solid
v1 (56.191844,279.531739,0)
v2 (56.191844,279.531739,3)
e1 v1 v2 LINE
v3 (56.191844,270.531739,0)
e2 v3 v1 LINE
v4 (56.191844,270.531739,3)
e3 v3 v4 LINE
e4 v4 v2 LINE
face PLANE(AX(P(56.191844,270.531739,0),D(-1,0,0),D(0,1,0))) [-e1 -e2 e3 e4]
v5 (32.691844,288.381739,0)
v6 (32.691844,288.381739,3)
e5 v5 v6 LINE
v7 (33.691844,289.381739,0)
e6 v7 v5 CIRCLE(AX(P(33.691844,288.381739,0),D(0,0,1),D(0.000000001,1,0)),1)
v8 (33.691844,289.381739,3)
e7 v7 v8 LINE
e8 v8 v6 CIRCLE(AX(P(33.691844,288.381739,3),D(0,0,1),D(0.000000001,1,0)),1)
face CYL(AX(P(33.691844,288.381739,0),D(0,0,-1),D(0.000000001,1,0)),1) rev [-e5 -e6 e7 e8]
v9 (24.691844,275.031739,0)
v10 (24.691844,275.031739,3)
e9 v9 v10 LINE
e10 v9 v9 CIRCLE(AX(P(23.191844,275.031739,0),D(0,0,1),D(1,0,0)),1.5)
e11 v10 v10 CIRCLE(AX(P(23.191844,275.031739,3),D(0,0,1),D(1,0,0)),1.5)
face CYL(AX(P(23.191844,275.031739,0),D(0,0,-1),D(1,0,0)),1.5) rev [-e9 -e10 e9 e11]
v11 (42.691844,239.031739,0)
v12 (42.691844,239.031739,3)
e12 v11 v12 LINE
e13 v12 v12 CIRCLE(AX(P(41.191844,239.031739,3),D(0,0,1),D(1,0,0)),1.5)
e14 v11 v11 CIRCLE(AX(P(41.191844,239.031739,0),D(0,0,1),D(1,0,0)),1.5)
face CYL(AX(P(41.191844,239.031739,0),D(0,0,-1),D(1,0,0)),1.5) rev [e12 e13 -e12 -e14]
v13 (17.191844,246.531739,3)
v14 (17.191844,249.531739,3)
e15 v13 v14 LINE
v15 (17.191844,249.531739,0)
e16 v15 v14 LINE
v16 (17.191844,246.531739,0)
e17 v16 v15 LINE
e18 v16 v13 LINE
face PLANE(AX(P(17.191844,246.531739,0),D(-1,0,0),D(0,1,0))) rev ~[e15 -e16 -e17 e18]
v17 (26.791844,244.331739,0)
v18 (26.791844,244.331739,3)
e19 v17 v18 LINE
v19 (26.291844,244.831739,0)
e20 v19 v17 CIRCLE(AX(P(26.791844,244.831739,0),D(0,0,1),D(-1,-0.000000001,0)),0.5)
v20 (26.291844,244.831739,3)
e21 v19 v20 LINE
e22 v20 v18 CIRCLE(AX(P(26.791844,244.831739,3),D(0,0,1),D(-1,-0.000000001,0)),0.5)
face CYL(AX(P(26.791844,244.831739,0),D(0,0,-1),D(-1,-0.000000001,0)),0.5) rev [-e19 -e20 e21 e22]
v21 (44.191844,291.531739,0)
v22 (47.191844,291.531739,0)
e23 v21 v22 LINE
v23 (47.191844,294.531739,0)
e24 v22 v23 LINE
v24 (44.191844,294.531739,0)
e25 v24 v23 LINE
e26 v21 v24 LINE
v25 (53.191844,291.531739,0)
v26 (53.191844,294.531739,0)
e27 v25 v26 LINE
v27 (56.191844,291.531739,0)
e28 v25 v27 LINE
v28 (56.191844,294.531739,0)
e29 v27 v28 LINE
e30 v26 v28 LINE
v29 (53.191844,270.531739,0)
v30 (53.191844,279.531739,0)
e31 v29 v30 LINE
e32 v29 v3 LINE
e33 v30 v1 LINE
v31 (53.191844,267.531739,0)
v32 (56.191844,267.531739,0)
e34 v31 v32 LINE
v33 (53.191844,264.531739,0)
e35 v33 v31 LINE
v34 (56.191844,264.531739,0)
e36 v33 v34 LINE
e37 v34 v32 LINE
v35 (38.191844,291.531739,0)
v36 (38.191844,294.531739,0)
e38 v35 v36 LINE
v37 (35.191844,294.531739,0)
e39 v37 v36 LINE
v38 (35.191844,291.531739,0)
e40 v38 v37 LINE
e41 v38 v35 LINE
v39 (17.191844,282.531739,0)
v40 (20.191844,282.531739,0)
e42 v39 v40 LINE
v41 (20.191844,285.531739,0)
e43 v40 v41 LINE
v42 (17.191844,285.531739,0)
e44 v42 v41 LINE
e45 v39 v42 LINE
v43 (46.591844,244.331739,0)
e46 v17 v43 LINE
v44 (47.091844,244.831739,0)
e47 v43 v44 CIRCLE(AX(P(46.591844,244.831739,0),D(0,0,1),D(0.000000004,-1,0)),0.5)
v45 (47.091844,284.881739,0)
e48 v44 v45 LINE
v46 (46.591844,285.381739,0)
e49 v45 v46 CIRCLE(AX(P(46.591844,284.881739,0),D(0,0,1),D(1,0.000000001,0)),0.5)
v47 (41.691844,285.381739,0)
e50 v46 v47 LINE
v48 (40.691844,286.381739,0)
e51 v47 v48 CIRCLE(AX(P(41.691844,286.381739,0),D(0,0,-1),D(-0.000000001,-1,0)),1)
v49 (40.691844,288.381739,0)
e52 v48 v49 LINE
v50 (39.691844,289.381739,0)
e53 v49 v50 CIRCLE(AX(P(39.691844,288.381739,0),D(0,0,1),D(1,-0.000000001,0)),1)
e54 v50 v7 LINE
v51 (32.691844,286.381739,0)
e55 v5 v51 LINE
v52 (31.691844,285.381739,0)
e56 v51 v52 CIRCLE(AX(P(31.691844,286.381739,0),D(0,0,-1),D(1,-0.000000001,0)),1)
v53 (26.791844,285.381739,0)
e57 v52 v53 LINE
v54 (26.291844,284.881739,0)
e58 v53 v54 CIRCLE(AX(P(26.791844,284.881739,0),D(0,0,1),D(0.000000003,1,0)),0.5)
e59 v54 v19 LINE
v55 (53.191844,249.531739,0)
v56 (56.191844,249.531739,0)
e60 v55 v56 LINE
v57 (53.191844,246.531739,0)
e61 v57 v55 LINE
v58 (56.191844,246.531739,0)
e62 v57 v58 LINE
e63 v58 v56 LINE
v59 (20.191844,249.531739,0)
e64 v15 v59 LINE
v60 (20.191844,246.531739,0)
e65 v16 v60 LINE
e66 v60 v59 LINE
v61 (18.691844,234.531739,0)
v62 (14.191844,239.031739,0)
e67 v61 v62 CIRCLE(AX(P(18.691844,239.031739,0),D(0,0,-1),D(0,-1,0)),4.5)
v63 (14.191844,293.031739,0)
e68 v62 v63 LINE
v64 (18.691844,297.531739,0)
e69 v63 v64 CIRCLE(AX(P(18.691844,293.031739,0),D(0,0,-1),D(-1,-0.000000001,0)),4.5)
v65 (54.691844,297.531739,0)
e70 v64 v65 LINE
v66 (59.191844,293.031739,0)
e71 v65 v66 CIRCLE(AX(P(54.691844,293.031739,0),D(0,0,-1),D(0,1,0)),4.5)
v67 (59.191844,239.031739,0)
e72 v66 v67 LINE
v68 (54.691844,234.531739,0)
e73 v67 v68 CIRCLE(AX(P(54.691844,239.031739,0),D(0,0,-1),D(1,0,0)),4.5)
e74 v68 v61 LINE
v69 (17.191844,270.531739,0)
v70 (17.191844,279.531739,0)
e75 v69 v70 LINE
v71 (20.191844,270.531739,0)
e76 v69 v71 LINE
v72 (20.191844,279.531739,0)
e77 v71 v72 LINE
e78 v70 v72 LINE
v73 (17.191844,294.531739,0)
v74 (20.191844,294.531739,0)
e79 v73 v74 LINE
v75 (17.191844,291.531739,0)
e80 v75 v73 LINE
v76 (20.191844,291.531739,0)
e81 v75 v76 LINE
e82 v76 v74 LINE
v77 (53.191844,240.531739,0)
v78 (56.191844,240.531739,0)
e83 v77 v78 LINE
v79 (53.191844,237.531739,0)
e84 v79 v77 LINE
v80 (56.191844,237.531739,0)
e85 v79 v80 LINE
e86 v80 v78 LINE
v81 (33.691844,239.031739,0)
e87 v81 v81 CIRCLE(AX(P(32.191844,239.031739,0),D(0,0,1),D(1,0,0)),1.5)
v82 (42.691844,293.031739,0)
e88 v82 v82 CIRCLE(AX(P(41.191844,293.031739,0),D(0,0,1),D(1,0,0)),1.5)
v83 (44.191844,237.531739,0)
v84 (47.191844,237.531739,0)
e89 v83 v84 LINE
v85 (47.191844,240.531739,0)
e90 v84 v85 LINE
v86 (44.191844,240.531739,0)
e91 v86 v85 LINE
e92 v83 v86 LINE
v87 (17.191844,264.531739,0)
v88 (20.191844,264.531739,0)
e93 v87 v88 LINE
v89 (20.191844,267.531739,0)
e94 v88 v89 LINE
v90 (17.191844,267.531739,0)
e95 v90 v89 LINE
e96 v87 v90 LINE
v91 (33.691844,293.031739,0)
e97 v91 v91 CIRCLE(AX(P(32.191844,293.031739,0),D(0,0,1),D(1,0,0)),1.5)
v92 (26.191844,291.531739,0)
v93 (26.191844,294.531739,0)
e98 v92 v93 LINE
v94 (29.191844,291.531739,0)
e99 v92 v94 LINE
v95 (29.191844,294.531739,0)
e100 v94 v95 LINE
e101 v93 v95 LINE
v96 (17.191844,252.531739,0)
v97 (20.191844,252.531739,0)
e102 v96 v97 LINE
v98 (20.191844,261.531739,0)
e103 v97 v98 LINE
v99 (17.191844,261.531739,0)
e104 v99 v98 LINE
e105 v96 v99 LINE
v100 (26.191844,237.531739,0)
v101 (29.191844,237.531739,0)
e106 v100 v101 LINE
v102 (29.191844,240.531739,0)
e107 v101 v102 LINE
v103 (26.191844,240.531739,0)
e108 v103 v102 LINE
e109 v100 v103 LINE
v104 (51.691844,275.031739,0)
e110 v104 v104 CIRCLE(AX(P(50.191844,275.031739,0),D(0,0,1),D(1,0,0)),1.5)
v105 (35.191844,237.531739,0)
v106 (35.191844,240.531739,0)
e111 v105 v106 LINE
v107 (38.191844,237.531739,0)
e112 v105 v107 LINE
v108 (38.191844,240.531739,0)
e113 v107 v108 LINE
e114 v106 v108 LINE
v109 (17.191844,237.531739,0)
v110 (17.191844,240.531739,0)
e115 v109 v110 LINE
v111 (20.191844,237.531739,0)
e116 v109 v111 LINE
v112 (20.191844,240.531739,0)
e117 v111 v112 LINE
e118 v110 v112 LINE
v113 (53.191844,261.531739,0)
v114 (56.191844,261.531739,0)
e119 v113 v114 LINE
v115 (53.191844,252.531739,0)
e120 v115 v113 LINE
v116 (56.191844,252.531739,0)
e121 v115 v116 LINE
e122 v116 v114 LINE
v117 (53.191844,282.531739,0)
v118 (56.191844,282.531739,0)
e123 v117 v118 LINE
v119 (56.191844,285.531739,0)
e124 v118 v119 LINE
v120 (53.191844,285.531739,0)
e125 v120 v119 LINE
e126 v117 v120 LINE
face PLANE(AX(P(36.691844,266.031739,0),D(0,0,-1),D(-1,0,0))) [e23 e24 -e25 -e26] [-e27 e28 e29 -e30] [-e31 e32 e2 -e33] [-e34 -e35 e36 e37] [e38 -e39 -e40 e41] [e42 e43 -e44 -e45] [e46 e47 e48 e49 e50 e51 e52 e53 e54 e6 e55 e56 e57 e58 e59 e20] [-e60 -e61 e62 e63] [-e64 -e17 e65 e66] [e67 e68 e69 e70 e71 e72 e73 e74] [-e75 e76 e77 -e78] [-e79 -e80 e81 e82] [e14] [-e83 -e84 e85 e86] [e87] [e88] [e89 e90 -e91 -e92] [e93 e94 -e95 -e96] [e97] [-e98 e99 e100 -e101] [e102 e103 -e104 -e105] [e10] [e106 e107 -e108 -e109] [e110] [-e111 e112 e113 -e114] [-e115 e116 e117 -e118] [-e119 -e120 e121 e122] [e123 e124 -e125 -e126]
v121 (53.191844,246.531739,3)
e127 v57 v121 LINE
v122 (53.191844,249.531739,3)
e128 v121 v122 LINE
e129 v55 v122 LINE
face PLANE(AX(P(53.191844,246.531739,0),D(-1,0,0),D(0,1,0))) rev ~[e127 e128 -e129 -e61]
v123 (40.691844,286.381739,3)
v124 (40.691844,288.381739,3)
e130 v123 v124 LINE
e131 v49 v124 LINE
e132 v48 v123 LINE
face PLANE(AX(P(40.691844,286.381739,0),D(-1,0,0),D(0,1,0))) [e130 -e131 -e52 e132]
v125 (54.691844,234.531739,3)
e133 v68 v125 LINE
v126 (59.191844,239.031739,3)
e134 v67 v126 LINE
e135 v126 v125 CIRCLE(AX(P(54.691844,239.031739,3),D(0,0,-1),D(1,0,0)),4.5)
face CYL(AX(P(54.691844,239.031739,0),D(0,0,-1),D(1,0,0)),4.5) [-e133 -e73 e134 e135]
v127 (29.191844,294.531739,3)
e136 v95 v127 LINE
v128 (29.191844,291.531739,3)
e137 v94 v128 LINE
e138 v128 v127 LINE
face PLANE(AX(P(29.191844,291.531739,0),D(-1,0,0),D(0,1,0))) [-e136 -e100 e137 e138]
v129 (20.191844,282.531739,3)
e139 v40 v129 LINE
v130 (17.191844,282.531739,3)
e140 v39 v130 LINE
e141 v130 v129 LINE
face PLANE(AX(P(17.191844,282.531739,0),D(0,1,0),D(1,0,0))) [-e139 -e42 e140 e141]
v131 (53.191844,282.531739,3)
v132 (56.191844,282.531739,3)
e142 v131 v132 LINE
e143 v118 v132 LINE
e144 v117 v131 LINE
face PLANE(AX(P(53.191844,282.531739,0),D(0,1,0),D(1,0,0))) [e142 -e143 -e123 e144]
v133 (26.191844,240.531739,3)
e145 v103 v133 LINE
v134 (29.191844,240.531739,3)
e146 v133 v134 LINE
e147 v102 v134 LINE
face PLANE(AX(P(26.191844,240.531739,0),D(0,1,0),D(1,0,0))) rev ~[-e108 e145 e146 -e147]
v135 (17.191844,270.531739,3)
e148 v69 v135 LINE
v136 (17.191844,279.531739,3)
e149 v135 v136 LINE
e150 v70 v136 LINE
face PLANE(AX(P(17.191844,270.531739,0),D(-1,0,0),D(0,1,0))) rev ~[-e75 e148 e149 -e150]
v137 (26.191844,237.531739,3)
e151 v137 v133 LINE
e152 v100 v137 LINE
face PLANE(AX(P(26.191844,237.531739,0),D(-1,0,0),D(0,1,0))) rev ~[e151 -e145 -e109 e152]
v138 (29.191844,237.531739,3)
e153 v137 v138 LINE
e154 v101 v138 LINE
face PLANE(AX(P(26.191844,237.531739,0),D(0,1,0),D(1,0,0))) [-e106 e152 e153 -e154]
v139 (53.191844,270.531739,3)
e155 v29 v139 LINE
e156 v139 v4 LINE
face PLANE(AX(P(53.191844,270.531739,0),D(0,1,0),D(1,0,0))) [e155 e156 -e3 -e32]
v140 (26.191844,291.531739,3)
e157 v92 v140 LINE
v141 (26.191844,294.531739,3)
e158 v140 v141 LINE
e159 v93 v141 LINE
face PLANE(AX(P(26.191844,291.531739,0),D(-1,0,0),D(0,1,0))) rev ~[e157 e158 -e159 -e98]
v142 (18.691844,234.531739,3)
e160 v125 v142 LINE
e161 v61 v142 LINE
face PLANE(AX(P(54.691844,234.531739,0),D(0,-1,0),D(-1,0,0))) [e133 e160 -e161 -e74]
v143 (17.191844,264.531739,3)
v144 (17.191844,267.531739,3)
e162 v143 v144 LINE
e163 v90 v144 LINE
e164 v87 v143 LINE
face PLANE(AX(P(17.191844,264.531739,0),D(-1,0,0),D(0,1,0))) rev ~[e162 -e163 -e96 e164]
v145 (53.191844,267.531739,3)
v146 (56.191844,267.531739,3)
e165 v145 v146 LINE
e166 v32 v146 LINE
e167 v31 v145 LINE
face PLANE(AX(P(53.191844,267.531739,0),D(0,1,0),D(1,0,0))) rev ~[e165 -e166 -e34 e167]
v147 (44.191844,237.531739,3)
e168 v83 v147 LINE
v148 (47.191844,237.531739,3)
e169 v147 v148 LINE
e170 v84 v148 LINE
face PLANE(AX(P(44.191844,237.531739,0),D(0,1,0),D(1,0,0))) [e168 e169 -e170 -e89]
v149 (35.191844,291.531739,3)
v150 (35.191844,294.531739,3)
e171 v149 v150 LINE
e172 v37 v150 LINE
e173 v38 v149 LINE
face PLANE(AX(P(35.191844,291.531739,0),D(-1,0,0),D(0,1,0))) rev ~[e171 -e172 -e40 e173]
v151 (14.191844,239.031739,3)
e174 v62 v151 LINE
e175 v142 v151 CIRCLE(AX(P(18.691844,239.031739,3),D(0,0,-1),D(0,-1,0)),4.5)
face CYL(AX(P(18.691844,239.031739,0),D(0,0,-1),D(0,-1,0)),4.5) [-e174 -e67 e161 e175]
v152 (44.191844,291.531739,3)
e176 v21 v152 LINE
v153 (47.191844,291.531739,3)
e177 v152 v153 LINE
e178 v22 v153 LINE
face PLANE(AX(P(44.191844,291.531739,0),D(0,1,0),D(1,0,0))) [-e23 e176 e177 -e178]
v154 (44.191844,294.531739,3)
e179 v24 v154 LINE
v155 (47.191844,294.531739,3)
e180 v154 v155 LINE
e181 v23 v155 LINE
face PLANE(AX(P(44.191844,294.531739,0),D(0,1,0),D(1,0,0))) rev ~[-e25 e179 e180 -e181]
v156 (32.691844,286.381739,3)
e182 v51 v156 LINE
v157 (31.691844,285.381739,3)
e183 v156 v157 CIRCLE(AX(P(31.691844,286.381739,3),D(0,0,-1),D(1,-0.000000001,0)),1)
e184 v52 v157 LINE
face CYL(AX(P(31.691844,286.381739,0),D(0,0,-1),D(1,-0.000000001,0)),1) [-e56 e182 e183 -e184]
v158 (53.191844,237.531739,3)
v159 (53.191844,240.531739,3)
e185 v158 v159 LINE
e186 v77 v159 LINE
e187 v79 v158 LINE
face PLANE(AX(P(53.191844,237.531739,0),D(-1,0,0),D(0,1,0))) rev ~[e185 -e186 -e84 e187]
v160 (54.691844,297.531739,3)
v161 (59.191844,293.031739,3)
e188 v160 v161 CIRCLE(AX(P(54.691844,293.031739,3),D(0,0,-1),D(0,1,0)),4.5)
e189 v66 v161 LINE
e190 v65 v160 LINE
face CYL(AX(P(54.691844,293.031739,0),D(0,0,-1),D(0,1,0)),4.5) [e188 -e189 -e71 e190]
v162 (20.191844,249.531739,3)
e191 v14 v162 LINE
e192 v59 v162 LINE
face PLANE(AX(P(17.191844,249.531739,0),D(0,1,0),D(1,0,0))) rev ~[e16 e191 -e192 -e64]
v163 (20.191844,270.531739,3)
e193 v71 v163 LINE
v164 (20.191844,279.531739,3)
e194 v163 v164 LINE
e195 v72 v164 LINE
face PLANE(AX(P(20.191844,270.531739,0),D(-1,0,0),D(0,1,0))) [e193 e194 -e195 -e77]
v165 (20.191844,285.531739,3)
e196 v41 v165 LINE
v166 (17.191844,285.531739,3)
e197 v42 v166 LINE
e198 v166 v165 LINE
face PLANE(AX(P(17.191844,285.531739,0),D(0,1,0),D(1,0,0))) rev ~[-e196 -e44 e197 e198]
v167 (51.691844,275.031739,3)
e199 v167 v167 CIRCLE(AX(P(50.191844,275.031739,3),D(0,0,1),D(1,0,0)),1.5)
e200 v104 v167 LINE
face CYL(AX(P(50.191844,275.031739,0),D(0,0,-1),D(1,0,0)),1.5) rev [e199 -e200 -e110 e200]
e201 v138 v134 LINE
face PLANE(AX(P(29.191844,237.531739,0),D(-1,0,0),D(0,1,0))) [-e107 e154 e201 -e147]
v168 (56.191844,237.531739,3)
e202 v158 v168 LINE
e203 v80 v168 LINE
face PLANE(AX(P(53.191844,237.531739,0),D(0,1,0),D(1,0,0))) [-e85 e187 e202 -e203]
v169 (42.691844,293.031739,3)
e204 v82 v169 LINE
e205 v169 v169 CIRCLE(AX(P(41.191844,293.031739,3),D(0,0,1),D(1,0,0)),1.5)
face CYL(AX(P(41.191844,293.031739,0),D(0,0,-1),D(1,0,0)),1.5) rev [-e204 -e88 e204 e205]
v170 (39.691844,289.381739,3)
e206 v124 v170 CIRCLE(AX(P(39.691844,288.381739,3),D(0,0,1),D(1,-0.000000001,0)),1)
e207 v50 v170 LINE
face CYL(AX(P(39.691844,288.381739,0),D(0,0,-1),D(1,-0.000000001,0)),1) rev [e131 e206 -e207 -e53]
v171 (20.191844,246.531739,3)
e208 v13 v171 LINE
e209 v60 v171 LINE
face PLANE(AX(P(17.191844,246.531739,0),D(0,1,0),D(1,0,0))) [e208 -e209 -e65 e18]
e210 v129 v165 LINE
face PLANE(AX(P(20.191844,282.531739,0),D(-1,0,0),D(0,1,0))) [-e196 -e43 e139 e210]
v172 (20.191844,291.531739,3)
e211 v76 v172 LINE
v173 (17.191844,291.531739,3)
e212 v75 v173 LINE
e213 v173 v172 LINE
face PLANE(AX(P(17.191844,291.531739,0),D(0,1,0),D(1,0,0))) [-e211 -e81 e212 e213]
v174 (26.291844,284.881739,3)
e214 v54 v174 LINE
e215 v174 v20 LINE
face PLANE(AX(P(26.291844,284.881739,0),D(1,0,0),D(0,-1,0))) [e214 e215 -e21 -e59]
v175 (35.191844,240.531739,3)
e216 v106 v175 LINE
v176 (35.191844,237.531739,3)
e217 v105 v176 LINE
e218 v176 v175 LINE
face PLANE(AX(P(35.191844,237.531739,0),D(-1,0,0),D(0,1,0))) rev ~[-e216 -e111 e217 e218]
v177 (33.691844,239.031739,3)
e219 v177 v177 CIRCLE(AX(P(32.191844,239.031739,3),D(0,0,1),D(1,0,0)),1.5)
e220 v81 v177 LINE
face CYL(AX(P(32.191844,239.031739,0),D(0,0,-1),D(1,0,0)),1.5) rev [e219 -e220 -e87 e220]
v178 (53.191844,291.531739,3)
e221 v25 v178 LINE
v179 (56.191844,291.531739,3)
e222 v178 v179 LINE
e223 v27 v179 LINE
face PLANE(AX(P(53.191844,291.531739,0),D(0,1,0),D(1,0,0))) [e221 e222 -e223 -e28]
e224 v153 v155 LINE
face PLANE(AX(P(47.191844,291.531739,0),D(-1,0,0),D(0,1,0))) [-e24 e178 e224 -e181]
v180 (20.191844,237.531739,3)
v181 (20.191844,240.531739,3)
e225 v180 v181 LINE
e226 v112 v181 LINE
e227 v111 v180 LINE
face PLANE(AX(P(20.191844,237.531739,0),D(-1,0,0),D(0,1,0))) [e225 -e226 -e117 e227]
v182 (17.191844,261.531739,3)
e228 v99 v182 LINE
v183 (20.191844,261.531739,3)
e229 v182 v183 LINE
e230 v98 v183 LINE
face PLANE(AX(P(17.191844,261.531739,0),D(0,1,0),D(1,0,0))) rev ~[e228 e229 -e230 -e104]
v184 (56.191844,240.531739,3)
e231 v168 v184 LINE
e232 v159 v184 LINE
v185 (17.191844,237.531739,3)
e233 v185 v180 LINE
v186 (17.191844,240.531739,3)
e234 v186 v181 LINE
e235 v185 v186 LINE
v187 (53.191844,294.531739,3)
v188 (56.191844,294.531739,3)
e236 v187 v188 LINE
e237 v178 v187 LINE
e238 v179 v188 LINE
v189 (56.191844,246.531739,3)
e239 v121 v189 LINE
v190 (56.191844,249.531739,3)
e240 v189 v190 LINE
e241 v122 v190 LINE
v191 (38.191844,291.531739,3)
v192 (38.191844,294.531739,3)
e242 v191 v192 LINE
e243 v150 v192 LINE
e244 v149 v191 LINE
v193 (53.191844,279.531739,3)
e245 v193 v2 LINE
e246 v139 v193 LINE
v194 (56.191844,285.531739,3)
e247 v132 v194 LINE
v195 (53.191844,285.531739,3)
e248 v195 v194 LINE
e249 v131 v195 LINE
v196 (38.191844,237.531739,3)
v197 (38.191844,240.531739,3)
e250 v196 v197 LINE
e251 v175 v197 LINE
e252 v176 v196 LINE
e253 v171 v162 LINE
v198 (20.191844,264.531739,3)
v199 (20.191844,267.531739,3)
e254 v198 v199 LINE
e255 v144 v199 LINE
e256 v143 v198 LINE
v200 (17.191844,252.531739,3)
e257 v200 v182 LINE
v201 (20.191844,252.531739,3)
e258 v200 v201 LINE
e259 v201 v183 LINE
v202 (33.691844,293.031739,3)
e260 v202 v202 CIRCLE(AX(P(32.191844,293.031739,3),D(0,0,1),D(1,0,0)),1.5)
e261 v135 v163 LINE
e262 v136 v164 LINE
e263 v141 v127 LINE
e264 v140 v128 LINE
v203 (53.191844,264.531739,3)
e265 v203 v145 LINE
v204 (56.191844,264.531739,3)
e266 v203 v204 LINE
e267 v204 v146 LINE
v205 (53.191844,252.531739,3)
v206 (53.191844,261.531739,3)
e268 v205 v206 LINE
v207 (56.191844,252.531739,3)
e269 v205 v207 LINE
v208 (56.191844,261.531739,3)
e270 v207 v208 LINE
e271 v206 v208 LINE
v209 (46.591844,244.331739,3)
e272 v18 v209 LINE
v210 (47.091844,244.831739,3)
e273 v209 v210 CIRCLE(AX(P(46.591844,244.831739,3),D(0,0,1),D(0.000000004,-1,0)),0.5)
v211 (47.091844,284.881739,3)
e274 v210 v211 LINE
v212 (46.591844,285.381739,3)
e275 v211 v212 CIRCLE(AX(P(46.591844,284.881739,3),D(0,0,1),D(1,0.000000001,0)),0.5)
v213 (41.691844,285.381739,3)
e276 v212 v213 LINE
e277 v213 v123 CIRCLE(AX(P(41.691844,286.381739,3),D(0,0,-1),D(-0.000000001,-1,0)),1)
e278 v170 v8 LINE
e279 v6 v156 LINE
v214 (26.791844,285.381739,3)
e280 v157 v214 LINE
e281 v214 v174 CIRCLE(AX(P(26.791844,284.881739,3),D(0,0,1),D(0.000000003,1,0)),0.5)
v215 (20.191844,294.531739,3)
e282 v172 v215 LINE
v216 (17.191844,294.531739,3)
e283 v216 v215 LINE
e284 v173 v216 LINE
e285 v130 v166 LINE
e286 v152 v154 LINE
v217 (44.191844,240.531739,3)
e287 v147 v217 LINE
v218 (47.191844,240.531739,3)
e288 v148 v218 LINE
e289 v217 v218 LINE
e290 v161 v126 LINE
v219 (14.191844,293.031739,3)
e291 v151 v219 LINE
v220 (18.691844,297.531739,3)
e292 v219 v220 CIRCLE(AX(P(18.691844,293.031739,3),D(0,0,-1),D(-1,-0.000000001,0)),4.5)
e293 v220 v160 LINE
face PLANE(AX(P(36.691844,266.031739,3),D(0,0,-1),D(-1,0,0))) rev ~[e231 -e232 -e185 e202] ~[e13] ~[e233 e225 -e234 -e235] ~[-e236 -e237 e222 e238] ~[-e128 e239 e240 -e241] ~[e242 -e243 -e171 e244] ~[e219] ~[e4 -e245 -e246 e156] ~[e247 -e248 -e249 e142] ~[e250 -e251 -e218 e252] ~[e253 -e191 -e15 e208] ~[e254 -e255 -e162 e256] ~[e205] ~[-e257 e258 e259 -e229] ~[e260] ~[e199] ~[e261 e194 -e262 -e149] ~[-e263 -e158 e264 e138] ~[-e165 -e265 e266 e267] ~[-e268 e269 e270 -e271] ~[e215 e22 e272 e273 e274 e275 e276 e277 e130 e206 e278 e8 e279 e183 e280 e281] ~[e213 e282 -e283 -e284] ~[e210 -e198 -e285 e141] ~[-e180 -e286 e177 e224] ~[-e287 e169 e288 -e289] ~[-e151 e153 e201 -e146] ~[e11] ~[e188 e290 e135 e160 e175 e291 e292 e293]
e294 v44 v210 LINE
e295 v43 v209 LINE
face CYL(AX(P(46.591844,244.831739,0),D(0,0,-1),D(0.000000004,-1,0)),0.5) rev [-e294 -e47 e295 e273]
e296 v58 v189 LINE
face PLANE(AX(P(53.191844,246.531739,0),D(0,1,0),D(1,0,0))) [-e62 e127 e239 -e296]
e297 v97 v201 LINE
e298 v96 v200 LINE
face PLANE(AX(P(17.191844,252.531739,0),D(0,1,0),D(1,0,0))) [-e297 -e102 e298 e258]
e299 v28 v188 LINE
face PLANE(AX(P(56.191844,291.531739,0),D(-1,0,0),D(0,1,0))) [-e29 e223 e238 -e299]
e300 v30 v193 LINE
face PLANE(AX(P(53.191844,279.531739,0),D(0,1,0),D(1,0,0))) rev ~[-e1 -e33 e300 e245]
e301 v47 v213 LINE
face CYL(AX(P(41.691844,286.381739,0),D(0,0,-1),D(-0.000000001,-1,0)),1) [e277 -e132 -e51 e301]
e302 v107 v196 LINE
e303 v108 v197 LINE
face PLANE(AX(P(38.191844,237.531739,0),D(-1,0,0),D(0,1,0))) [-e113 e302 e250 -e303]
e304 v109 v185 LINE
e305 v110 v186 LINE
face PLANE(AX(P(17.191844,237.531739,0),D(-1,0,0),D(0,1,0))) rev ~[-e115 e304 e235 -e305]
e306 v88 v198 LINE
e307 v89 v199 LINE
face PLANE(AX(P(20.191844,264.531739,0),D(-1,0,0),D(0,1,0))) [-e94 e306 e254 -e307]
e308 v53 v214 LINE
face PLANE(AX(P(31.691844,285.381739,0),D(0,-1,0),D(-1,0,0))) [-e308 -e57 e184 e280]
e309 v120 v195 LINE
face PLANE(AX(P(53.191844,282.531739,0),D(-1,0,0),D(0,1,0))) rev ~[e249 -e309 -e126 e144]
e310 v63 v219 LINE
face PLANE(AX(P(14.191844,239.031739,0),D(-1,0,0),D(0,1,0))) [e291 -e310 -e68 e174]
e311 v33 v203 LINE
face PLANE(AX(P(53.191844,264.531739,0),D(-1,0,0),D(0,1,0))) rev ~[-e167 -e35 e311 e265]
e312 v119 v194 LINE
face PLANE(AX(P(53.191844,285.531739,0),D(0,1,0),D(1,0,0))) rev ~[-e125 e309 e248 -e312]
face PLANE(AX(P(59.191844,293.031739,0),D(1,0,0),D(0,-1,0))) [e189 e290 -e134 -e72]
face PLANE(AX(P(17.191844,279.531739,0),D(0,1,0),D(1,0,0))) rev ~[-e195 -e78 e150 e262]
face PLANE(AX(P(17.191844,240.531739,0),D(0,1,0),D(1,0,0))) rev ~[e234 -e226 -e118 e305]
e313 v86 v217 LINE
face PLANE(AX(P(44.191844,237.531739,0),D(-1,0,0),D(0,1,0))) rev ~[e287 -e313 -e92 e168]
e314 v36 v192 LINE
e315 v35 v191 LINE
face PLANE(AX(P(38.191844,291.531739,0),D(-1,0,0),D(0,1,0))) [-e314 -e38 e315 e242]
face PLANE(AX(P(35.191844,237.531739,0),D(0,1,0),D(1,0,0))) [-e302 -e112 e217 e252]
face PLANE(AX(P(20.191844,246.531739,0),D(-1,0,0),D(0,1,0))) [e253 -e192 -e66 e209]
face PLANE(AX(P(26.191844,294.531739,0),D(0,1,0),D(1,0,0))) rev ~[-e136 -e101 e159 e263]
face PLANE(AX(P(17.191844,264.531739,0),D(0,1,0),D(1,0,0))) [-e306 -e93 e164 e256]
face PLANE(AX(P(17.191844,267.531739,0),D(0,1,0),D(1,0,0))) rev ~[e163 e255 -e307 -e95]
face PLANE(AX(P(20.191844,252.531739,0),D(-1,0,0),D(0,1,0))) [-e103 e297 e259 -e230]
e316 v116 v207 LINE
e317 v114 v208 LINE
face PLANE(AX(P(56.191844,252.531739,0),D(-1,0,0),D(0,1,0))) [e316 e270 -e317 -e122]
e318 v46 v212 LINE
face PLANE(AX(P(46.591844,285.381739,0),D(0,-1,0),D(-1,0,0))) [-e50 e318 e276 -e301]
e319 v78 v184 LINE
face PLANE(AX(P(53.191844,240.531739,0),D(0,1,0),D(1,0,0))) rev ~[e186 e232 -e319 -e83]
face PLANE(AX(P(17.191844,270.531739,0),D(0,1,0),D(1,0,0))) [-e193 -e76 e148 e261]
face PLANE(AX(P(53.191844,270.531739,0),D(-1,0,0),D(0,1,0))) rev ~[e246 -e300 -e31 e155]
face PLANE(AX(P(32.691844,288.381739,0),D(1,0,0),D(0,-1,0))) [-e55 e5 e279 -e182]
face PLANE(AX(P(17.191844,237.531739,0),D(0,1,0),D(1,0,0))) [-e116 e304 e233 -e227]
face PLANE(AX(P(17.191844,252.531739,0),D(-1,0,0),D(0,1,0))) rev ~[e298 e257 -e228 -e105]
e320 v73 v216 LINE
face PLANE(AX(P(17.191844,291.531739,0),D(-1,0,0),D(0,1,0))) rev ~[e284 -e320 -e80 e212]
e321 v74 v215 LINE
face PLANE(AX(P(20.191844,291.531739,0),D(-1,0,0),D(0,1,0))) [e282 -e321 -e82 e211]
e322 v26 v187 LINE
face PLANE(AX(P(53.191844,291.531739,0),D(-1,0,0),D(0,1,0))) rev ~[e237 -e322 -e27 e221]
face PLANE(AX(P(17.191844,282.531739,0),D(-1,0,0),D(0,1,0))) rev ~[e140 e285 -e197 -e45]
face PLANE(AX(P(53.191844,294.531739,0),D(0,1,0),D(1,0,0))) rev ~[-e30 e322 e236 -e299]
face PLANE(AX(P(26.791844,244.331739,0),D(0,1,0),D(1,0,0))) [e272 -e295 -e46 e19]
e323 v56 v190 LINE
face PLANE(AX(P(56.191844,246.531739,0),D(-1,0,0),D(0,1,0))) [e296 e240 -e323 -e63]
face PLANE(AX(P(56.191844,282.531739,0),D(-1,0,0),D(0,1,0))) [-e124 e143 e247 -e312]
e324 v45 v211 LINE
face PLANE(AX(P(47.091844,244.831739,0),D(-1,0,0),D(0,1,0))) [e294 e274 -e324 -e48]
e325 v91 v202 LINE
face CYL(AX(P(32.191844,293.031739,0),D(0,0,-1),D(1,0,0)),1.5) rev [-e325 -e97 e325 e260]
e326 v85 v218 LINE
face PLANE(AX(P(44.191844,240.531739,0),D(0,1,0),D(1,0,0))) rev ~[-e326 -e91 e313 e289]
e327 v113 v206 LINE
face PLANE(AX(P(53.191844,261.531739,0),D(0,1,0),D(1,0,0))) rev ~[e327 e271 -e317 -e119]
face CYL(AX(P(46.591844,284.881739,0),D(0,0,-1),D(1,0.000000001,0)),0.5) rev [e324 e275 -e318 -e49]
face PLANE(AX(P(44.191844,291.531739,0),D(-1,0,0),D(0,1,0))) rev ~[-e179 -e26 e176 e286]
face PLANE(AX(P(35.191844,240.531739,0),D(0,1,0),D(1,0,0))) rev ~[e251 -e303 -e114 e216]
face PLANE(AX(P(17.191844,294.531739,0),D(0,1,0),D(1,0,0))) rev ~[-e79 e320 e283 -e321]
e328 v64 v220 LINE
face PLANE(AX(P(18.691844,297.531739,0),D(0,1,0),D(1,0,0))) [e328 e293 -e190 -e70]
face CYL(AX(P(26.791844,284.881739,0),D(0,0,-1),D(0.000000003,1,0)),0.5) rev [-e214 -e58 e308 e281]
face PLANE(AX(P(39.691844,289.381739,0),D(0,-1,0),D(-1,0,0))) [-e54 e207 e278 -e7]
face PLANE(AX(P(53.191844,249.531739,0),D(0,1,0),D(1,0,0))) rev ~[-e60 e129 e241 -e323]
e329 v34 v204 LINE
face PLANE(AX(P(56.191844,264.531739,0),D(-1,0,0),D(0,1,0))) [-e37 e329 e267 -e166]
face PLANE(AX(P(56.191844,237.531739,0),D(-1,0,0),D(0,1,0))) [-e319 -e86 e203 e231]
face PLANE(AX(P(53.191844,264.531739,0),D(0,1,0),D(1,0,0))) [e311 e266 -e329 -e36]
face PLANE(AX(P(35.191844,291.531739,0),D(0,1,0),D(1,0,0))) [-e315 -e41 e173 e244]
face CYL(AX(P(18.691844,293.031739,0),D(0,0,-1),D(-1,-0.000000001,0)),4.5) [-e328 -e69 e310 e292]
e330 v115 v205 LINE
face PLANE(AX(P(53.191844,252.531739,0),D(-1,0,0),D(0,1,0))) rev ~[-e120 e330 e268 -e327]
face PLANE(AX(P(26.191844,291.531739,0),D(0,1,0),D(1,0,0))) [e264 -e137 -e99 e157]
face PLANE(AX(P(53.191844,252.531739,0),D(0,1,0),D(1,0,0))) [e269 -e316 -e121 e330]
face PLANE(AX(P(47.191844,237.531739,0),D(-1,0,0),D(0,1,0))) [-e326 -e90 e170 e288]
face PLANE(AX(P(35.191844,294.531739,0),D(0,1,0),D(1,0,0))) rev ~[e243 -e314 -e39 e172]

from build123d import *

# Parameters (mm, degrees)
MODEL_R                 = 1.5
MODEL_W                 = 3
MODEL_H                 = 3
MODEL_H_2               = 9
SALIENTE_EXTRUIR1_DEPTH = 3


with BuildPart() as part:
    # Model → Saliente-Extruir1 (new body)
    with BuildSketch(Plane.XY):
        with BuildLine():
            Line((14.191843711, 239.031739215), (14.191843711, 293.031739215))
            ThreePointArc((14.191843711, 293.031739215), (15.509863195, 296.213719731), (18.691843711, 297.531739215))
            Line((18.691843711, 297.531739215), (54.691843711, 297.531739215))
            ThreePointArc((54.691843711, 297.531739215), (57.873824226, 296.213719731), (59.191843711, 293.031739215))
            Line((59.191843711, 293.031739215), (59.191843711, 239.031739215))
            ThreePointArc((59.191843711, 239.031739215), (57.873824226, 235.8497587), (54.691843711, 234.531739215))
            Line((54.691843711, 234.531739215), (18.691843711, 234.531739215))
            ThreePointArc((18.691843711, 234.531739215), (15.509863195, 235.8497587), (14.191843711, 239.031739215))
        make_face()
        with Locations((32.191843711, 239.031739215)):
            Circle(MODEL_R, mode=Mode.SUBTRACT)
        with Locations((41.191843711, 239.031739215)):
            Circle(MODEL_R, mode=Mode.SUBTRACT)
        with Locations((32.191843711, 293.031739215)):
            Circle(MODEL_R, mode=Mode.SUBTRACT)
        with Locations((41.191843711, 293.031739215)):
            Circle(MODEL_R, mode=Mode.SUBTRACT)
        with Locations((50.191843711, 275.031739215)):
            Circle(MODEL_R, mode=Mode.SUBTRACT)
        with Locations((23.191843711, 275.031739215)):
            Circle(MODEL_R, mode=Mode.SUBTRACT)
        with Locations((18.691843711, 239.031739215)):
            Rectangle(MODEL_W, MODEL_H, mode=Mode.SUBTRACT)
        with Locations((18.691843711, 248.031739215)):
            Rectangle(MODEL_W, MODEL_H, mode=Mode.SUBTRACT)
        with Locations((18.691843711, 293.031739215)):
            Rectangle(MODEL_W, MODEL_H, mode=Mode.SUBTRACT)
        with Locations((54.691843711, 239.031739215)):
            Rectangle(MODEL_W, MODEL_H, mode=Mode.SUBTRACT)
        with Locations((54.691843711, 248.031739215)):
            Rectangle(MODEL_W, MODEL_H, mode=Mode.SUBTRACT)
        with Locations((54.691843711, 293.031739215)):
            Rectangle(MODEL_W, MODEL_H, mode=Mode.SUBTRACT)
        with Locations((45.691843711, 239.031739215)):
            Rectangle(MODEL_W, MODEL_H, mode=Mode.SUBTRACT)
        with Locations((45.691843711, 293.031739215)):
            Rectangle(MODEL_W, MODEL_H, mode=Mode.SUBTRACT)
        with Locations((18.691843711, 266.031739215)):
            Rectangle(MODEL_W, MODEL_H, mode=Mode.SUBTRACT)
        with Locations((18.691843711, 284.031739215)):
            Rectangle(MODEL_W, MODEL_H, mode=Mode.SUBTRACT)
        with Locations((54.691843711, 266.031739215)):
            Rectangle(MODEL_W, MODEL_H, mode=Mode.SUBTRACT)
        with Locations((54.691843711, 284.031739215)):
            Rectangle(MODEL_W, MODEL_H, mode=Mode.SUBTRACT)
        with Locations((36.691843711, 239.031739215)):
            Rectangle(MODEL_W, MODEL_H, mode=Mode.SUBTRACT)
        with Locations((36.691843711, 293.031739215)):
            Rectangle(MODEL_W, MODEL_H, mode=Mode.SUBTRACT)
        with Locations((27.691843711, 239.031739215)):
            Rectangle(MODEL_W, MODEL_H, mode=Mode.SUBTRACT)
        with Locations((27.691843711, 293.031739215)):
            Rectangle(MODEL_W, MODEL_H, mode=Mode.SUBTRACT)
        with Locations((18.691843711, 257.031739215)):
            Rectangle(MODEL_W, MODEL_H_2, mode=Mode.SUBTRACT)
        with Locations((54.691843711, 257.031739215)):
            Rectangle(MODEL_W, MODEL_H_2, mode=Mode.SUBTRACT)
        with Locations((18.691843711, 275.031739215)):
            Rectangle(MODEL_W, MODEL_H_2, mode=Mode.SUBTRACT)
        with Locations((54.691843711, 275.031739215)):
            Rectangle(MODEL_W, MODEL_H_2, mode=Mode.SUBTRACT)
        with BuildLine():
            Line((26.291843711, 284.881739215), (26.291843711, 244.831739215))
            ThreePointArc((26.291843711, 244.831739215), (26.43829032, 244.478185825), (26.791843711, 244.331739215))
            Line((26.791843711, 244.331739215), (46.591843711, 244.331739215))
            ThreePointArc((46.591843711, 244.331739215), (46.945397101, 244.478185825), (47.091843711, 244.831739215))
            Line((47.091843711, 244.831739215), (47.091843711, 284.881739215))
            ThreePointArc((47.091843711, 284.881739215), (46.945397101, 285.235292606), (46.591843711, 285.381739215))
            Line((46.591843711, 285.381739215), (41.691843711, 285.381739215))
            ThreePointArc((41.691843711, 285.381739215), (40.98473693, 285.674632434), (40.691843711, 286.381739215))
            Line((40.691843711, 286.381739215), (40.691843711, 288.381739215))
            ThreePointArc((40.691843711, 288.381739215), (40.398950492, 289.088845997), (39.691843711, 289.381739215))
            Line((39.691843711, 289.381739215), (33.691843711, 289.381739215))
            ThreePointArc((33.691843711, 289.381739215), (32.98473693, 289.088845997), (32.691843711, 288.381739215))
            Line((32.691843711, 288.381739215), (32.691843711, 286.381739215))
            ThreePointArc((32.691843711, 286.381739215), (32.398950492, 285.674632434), (31.691843711, 285.381739215))
            Line((31.691843711, 285.381739215), (26.791843711, 285.381739215))
            ThreePointArc((26.791843711, 285.381739215), (26.43829032, 285.235292606), (26.291843711, 284.881739215))
        make_face(mode=Mode.SUBTRACT)
    extrude(amount=SALIENTE_EXTRUIR1_DEPTH)


solid = part.part
